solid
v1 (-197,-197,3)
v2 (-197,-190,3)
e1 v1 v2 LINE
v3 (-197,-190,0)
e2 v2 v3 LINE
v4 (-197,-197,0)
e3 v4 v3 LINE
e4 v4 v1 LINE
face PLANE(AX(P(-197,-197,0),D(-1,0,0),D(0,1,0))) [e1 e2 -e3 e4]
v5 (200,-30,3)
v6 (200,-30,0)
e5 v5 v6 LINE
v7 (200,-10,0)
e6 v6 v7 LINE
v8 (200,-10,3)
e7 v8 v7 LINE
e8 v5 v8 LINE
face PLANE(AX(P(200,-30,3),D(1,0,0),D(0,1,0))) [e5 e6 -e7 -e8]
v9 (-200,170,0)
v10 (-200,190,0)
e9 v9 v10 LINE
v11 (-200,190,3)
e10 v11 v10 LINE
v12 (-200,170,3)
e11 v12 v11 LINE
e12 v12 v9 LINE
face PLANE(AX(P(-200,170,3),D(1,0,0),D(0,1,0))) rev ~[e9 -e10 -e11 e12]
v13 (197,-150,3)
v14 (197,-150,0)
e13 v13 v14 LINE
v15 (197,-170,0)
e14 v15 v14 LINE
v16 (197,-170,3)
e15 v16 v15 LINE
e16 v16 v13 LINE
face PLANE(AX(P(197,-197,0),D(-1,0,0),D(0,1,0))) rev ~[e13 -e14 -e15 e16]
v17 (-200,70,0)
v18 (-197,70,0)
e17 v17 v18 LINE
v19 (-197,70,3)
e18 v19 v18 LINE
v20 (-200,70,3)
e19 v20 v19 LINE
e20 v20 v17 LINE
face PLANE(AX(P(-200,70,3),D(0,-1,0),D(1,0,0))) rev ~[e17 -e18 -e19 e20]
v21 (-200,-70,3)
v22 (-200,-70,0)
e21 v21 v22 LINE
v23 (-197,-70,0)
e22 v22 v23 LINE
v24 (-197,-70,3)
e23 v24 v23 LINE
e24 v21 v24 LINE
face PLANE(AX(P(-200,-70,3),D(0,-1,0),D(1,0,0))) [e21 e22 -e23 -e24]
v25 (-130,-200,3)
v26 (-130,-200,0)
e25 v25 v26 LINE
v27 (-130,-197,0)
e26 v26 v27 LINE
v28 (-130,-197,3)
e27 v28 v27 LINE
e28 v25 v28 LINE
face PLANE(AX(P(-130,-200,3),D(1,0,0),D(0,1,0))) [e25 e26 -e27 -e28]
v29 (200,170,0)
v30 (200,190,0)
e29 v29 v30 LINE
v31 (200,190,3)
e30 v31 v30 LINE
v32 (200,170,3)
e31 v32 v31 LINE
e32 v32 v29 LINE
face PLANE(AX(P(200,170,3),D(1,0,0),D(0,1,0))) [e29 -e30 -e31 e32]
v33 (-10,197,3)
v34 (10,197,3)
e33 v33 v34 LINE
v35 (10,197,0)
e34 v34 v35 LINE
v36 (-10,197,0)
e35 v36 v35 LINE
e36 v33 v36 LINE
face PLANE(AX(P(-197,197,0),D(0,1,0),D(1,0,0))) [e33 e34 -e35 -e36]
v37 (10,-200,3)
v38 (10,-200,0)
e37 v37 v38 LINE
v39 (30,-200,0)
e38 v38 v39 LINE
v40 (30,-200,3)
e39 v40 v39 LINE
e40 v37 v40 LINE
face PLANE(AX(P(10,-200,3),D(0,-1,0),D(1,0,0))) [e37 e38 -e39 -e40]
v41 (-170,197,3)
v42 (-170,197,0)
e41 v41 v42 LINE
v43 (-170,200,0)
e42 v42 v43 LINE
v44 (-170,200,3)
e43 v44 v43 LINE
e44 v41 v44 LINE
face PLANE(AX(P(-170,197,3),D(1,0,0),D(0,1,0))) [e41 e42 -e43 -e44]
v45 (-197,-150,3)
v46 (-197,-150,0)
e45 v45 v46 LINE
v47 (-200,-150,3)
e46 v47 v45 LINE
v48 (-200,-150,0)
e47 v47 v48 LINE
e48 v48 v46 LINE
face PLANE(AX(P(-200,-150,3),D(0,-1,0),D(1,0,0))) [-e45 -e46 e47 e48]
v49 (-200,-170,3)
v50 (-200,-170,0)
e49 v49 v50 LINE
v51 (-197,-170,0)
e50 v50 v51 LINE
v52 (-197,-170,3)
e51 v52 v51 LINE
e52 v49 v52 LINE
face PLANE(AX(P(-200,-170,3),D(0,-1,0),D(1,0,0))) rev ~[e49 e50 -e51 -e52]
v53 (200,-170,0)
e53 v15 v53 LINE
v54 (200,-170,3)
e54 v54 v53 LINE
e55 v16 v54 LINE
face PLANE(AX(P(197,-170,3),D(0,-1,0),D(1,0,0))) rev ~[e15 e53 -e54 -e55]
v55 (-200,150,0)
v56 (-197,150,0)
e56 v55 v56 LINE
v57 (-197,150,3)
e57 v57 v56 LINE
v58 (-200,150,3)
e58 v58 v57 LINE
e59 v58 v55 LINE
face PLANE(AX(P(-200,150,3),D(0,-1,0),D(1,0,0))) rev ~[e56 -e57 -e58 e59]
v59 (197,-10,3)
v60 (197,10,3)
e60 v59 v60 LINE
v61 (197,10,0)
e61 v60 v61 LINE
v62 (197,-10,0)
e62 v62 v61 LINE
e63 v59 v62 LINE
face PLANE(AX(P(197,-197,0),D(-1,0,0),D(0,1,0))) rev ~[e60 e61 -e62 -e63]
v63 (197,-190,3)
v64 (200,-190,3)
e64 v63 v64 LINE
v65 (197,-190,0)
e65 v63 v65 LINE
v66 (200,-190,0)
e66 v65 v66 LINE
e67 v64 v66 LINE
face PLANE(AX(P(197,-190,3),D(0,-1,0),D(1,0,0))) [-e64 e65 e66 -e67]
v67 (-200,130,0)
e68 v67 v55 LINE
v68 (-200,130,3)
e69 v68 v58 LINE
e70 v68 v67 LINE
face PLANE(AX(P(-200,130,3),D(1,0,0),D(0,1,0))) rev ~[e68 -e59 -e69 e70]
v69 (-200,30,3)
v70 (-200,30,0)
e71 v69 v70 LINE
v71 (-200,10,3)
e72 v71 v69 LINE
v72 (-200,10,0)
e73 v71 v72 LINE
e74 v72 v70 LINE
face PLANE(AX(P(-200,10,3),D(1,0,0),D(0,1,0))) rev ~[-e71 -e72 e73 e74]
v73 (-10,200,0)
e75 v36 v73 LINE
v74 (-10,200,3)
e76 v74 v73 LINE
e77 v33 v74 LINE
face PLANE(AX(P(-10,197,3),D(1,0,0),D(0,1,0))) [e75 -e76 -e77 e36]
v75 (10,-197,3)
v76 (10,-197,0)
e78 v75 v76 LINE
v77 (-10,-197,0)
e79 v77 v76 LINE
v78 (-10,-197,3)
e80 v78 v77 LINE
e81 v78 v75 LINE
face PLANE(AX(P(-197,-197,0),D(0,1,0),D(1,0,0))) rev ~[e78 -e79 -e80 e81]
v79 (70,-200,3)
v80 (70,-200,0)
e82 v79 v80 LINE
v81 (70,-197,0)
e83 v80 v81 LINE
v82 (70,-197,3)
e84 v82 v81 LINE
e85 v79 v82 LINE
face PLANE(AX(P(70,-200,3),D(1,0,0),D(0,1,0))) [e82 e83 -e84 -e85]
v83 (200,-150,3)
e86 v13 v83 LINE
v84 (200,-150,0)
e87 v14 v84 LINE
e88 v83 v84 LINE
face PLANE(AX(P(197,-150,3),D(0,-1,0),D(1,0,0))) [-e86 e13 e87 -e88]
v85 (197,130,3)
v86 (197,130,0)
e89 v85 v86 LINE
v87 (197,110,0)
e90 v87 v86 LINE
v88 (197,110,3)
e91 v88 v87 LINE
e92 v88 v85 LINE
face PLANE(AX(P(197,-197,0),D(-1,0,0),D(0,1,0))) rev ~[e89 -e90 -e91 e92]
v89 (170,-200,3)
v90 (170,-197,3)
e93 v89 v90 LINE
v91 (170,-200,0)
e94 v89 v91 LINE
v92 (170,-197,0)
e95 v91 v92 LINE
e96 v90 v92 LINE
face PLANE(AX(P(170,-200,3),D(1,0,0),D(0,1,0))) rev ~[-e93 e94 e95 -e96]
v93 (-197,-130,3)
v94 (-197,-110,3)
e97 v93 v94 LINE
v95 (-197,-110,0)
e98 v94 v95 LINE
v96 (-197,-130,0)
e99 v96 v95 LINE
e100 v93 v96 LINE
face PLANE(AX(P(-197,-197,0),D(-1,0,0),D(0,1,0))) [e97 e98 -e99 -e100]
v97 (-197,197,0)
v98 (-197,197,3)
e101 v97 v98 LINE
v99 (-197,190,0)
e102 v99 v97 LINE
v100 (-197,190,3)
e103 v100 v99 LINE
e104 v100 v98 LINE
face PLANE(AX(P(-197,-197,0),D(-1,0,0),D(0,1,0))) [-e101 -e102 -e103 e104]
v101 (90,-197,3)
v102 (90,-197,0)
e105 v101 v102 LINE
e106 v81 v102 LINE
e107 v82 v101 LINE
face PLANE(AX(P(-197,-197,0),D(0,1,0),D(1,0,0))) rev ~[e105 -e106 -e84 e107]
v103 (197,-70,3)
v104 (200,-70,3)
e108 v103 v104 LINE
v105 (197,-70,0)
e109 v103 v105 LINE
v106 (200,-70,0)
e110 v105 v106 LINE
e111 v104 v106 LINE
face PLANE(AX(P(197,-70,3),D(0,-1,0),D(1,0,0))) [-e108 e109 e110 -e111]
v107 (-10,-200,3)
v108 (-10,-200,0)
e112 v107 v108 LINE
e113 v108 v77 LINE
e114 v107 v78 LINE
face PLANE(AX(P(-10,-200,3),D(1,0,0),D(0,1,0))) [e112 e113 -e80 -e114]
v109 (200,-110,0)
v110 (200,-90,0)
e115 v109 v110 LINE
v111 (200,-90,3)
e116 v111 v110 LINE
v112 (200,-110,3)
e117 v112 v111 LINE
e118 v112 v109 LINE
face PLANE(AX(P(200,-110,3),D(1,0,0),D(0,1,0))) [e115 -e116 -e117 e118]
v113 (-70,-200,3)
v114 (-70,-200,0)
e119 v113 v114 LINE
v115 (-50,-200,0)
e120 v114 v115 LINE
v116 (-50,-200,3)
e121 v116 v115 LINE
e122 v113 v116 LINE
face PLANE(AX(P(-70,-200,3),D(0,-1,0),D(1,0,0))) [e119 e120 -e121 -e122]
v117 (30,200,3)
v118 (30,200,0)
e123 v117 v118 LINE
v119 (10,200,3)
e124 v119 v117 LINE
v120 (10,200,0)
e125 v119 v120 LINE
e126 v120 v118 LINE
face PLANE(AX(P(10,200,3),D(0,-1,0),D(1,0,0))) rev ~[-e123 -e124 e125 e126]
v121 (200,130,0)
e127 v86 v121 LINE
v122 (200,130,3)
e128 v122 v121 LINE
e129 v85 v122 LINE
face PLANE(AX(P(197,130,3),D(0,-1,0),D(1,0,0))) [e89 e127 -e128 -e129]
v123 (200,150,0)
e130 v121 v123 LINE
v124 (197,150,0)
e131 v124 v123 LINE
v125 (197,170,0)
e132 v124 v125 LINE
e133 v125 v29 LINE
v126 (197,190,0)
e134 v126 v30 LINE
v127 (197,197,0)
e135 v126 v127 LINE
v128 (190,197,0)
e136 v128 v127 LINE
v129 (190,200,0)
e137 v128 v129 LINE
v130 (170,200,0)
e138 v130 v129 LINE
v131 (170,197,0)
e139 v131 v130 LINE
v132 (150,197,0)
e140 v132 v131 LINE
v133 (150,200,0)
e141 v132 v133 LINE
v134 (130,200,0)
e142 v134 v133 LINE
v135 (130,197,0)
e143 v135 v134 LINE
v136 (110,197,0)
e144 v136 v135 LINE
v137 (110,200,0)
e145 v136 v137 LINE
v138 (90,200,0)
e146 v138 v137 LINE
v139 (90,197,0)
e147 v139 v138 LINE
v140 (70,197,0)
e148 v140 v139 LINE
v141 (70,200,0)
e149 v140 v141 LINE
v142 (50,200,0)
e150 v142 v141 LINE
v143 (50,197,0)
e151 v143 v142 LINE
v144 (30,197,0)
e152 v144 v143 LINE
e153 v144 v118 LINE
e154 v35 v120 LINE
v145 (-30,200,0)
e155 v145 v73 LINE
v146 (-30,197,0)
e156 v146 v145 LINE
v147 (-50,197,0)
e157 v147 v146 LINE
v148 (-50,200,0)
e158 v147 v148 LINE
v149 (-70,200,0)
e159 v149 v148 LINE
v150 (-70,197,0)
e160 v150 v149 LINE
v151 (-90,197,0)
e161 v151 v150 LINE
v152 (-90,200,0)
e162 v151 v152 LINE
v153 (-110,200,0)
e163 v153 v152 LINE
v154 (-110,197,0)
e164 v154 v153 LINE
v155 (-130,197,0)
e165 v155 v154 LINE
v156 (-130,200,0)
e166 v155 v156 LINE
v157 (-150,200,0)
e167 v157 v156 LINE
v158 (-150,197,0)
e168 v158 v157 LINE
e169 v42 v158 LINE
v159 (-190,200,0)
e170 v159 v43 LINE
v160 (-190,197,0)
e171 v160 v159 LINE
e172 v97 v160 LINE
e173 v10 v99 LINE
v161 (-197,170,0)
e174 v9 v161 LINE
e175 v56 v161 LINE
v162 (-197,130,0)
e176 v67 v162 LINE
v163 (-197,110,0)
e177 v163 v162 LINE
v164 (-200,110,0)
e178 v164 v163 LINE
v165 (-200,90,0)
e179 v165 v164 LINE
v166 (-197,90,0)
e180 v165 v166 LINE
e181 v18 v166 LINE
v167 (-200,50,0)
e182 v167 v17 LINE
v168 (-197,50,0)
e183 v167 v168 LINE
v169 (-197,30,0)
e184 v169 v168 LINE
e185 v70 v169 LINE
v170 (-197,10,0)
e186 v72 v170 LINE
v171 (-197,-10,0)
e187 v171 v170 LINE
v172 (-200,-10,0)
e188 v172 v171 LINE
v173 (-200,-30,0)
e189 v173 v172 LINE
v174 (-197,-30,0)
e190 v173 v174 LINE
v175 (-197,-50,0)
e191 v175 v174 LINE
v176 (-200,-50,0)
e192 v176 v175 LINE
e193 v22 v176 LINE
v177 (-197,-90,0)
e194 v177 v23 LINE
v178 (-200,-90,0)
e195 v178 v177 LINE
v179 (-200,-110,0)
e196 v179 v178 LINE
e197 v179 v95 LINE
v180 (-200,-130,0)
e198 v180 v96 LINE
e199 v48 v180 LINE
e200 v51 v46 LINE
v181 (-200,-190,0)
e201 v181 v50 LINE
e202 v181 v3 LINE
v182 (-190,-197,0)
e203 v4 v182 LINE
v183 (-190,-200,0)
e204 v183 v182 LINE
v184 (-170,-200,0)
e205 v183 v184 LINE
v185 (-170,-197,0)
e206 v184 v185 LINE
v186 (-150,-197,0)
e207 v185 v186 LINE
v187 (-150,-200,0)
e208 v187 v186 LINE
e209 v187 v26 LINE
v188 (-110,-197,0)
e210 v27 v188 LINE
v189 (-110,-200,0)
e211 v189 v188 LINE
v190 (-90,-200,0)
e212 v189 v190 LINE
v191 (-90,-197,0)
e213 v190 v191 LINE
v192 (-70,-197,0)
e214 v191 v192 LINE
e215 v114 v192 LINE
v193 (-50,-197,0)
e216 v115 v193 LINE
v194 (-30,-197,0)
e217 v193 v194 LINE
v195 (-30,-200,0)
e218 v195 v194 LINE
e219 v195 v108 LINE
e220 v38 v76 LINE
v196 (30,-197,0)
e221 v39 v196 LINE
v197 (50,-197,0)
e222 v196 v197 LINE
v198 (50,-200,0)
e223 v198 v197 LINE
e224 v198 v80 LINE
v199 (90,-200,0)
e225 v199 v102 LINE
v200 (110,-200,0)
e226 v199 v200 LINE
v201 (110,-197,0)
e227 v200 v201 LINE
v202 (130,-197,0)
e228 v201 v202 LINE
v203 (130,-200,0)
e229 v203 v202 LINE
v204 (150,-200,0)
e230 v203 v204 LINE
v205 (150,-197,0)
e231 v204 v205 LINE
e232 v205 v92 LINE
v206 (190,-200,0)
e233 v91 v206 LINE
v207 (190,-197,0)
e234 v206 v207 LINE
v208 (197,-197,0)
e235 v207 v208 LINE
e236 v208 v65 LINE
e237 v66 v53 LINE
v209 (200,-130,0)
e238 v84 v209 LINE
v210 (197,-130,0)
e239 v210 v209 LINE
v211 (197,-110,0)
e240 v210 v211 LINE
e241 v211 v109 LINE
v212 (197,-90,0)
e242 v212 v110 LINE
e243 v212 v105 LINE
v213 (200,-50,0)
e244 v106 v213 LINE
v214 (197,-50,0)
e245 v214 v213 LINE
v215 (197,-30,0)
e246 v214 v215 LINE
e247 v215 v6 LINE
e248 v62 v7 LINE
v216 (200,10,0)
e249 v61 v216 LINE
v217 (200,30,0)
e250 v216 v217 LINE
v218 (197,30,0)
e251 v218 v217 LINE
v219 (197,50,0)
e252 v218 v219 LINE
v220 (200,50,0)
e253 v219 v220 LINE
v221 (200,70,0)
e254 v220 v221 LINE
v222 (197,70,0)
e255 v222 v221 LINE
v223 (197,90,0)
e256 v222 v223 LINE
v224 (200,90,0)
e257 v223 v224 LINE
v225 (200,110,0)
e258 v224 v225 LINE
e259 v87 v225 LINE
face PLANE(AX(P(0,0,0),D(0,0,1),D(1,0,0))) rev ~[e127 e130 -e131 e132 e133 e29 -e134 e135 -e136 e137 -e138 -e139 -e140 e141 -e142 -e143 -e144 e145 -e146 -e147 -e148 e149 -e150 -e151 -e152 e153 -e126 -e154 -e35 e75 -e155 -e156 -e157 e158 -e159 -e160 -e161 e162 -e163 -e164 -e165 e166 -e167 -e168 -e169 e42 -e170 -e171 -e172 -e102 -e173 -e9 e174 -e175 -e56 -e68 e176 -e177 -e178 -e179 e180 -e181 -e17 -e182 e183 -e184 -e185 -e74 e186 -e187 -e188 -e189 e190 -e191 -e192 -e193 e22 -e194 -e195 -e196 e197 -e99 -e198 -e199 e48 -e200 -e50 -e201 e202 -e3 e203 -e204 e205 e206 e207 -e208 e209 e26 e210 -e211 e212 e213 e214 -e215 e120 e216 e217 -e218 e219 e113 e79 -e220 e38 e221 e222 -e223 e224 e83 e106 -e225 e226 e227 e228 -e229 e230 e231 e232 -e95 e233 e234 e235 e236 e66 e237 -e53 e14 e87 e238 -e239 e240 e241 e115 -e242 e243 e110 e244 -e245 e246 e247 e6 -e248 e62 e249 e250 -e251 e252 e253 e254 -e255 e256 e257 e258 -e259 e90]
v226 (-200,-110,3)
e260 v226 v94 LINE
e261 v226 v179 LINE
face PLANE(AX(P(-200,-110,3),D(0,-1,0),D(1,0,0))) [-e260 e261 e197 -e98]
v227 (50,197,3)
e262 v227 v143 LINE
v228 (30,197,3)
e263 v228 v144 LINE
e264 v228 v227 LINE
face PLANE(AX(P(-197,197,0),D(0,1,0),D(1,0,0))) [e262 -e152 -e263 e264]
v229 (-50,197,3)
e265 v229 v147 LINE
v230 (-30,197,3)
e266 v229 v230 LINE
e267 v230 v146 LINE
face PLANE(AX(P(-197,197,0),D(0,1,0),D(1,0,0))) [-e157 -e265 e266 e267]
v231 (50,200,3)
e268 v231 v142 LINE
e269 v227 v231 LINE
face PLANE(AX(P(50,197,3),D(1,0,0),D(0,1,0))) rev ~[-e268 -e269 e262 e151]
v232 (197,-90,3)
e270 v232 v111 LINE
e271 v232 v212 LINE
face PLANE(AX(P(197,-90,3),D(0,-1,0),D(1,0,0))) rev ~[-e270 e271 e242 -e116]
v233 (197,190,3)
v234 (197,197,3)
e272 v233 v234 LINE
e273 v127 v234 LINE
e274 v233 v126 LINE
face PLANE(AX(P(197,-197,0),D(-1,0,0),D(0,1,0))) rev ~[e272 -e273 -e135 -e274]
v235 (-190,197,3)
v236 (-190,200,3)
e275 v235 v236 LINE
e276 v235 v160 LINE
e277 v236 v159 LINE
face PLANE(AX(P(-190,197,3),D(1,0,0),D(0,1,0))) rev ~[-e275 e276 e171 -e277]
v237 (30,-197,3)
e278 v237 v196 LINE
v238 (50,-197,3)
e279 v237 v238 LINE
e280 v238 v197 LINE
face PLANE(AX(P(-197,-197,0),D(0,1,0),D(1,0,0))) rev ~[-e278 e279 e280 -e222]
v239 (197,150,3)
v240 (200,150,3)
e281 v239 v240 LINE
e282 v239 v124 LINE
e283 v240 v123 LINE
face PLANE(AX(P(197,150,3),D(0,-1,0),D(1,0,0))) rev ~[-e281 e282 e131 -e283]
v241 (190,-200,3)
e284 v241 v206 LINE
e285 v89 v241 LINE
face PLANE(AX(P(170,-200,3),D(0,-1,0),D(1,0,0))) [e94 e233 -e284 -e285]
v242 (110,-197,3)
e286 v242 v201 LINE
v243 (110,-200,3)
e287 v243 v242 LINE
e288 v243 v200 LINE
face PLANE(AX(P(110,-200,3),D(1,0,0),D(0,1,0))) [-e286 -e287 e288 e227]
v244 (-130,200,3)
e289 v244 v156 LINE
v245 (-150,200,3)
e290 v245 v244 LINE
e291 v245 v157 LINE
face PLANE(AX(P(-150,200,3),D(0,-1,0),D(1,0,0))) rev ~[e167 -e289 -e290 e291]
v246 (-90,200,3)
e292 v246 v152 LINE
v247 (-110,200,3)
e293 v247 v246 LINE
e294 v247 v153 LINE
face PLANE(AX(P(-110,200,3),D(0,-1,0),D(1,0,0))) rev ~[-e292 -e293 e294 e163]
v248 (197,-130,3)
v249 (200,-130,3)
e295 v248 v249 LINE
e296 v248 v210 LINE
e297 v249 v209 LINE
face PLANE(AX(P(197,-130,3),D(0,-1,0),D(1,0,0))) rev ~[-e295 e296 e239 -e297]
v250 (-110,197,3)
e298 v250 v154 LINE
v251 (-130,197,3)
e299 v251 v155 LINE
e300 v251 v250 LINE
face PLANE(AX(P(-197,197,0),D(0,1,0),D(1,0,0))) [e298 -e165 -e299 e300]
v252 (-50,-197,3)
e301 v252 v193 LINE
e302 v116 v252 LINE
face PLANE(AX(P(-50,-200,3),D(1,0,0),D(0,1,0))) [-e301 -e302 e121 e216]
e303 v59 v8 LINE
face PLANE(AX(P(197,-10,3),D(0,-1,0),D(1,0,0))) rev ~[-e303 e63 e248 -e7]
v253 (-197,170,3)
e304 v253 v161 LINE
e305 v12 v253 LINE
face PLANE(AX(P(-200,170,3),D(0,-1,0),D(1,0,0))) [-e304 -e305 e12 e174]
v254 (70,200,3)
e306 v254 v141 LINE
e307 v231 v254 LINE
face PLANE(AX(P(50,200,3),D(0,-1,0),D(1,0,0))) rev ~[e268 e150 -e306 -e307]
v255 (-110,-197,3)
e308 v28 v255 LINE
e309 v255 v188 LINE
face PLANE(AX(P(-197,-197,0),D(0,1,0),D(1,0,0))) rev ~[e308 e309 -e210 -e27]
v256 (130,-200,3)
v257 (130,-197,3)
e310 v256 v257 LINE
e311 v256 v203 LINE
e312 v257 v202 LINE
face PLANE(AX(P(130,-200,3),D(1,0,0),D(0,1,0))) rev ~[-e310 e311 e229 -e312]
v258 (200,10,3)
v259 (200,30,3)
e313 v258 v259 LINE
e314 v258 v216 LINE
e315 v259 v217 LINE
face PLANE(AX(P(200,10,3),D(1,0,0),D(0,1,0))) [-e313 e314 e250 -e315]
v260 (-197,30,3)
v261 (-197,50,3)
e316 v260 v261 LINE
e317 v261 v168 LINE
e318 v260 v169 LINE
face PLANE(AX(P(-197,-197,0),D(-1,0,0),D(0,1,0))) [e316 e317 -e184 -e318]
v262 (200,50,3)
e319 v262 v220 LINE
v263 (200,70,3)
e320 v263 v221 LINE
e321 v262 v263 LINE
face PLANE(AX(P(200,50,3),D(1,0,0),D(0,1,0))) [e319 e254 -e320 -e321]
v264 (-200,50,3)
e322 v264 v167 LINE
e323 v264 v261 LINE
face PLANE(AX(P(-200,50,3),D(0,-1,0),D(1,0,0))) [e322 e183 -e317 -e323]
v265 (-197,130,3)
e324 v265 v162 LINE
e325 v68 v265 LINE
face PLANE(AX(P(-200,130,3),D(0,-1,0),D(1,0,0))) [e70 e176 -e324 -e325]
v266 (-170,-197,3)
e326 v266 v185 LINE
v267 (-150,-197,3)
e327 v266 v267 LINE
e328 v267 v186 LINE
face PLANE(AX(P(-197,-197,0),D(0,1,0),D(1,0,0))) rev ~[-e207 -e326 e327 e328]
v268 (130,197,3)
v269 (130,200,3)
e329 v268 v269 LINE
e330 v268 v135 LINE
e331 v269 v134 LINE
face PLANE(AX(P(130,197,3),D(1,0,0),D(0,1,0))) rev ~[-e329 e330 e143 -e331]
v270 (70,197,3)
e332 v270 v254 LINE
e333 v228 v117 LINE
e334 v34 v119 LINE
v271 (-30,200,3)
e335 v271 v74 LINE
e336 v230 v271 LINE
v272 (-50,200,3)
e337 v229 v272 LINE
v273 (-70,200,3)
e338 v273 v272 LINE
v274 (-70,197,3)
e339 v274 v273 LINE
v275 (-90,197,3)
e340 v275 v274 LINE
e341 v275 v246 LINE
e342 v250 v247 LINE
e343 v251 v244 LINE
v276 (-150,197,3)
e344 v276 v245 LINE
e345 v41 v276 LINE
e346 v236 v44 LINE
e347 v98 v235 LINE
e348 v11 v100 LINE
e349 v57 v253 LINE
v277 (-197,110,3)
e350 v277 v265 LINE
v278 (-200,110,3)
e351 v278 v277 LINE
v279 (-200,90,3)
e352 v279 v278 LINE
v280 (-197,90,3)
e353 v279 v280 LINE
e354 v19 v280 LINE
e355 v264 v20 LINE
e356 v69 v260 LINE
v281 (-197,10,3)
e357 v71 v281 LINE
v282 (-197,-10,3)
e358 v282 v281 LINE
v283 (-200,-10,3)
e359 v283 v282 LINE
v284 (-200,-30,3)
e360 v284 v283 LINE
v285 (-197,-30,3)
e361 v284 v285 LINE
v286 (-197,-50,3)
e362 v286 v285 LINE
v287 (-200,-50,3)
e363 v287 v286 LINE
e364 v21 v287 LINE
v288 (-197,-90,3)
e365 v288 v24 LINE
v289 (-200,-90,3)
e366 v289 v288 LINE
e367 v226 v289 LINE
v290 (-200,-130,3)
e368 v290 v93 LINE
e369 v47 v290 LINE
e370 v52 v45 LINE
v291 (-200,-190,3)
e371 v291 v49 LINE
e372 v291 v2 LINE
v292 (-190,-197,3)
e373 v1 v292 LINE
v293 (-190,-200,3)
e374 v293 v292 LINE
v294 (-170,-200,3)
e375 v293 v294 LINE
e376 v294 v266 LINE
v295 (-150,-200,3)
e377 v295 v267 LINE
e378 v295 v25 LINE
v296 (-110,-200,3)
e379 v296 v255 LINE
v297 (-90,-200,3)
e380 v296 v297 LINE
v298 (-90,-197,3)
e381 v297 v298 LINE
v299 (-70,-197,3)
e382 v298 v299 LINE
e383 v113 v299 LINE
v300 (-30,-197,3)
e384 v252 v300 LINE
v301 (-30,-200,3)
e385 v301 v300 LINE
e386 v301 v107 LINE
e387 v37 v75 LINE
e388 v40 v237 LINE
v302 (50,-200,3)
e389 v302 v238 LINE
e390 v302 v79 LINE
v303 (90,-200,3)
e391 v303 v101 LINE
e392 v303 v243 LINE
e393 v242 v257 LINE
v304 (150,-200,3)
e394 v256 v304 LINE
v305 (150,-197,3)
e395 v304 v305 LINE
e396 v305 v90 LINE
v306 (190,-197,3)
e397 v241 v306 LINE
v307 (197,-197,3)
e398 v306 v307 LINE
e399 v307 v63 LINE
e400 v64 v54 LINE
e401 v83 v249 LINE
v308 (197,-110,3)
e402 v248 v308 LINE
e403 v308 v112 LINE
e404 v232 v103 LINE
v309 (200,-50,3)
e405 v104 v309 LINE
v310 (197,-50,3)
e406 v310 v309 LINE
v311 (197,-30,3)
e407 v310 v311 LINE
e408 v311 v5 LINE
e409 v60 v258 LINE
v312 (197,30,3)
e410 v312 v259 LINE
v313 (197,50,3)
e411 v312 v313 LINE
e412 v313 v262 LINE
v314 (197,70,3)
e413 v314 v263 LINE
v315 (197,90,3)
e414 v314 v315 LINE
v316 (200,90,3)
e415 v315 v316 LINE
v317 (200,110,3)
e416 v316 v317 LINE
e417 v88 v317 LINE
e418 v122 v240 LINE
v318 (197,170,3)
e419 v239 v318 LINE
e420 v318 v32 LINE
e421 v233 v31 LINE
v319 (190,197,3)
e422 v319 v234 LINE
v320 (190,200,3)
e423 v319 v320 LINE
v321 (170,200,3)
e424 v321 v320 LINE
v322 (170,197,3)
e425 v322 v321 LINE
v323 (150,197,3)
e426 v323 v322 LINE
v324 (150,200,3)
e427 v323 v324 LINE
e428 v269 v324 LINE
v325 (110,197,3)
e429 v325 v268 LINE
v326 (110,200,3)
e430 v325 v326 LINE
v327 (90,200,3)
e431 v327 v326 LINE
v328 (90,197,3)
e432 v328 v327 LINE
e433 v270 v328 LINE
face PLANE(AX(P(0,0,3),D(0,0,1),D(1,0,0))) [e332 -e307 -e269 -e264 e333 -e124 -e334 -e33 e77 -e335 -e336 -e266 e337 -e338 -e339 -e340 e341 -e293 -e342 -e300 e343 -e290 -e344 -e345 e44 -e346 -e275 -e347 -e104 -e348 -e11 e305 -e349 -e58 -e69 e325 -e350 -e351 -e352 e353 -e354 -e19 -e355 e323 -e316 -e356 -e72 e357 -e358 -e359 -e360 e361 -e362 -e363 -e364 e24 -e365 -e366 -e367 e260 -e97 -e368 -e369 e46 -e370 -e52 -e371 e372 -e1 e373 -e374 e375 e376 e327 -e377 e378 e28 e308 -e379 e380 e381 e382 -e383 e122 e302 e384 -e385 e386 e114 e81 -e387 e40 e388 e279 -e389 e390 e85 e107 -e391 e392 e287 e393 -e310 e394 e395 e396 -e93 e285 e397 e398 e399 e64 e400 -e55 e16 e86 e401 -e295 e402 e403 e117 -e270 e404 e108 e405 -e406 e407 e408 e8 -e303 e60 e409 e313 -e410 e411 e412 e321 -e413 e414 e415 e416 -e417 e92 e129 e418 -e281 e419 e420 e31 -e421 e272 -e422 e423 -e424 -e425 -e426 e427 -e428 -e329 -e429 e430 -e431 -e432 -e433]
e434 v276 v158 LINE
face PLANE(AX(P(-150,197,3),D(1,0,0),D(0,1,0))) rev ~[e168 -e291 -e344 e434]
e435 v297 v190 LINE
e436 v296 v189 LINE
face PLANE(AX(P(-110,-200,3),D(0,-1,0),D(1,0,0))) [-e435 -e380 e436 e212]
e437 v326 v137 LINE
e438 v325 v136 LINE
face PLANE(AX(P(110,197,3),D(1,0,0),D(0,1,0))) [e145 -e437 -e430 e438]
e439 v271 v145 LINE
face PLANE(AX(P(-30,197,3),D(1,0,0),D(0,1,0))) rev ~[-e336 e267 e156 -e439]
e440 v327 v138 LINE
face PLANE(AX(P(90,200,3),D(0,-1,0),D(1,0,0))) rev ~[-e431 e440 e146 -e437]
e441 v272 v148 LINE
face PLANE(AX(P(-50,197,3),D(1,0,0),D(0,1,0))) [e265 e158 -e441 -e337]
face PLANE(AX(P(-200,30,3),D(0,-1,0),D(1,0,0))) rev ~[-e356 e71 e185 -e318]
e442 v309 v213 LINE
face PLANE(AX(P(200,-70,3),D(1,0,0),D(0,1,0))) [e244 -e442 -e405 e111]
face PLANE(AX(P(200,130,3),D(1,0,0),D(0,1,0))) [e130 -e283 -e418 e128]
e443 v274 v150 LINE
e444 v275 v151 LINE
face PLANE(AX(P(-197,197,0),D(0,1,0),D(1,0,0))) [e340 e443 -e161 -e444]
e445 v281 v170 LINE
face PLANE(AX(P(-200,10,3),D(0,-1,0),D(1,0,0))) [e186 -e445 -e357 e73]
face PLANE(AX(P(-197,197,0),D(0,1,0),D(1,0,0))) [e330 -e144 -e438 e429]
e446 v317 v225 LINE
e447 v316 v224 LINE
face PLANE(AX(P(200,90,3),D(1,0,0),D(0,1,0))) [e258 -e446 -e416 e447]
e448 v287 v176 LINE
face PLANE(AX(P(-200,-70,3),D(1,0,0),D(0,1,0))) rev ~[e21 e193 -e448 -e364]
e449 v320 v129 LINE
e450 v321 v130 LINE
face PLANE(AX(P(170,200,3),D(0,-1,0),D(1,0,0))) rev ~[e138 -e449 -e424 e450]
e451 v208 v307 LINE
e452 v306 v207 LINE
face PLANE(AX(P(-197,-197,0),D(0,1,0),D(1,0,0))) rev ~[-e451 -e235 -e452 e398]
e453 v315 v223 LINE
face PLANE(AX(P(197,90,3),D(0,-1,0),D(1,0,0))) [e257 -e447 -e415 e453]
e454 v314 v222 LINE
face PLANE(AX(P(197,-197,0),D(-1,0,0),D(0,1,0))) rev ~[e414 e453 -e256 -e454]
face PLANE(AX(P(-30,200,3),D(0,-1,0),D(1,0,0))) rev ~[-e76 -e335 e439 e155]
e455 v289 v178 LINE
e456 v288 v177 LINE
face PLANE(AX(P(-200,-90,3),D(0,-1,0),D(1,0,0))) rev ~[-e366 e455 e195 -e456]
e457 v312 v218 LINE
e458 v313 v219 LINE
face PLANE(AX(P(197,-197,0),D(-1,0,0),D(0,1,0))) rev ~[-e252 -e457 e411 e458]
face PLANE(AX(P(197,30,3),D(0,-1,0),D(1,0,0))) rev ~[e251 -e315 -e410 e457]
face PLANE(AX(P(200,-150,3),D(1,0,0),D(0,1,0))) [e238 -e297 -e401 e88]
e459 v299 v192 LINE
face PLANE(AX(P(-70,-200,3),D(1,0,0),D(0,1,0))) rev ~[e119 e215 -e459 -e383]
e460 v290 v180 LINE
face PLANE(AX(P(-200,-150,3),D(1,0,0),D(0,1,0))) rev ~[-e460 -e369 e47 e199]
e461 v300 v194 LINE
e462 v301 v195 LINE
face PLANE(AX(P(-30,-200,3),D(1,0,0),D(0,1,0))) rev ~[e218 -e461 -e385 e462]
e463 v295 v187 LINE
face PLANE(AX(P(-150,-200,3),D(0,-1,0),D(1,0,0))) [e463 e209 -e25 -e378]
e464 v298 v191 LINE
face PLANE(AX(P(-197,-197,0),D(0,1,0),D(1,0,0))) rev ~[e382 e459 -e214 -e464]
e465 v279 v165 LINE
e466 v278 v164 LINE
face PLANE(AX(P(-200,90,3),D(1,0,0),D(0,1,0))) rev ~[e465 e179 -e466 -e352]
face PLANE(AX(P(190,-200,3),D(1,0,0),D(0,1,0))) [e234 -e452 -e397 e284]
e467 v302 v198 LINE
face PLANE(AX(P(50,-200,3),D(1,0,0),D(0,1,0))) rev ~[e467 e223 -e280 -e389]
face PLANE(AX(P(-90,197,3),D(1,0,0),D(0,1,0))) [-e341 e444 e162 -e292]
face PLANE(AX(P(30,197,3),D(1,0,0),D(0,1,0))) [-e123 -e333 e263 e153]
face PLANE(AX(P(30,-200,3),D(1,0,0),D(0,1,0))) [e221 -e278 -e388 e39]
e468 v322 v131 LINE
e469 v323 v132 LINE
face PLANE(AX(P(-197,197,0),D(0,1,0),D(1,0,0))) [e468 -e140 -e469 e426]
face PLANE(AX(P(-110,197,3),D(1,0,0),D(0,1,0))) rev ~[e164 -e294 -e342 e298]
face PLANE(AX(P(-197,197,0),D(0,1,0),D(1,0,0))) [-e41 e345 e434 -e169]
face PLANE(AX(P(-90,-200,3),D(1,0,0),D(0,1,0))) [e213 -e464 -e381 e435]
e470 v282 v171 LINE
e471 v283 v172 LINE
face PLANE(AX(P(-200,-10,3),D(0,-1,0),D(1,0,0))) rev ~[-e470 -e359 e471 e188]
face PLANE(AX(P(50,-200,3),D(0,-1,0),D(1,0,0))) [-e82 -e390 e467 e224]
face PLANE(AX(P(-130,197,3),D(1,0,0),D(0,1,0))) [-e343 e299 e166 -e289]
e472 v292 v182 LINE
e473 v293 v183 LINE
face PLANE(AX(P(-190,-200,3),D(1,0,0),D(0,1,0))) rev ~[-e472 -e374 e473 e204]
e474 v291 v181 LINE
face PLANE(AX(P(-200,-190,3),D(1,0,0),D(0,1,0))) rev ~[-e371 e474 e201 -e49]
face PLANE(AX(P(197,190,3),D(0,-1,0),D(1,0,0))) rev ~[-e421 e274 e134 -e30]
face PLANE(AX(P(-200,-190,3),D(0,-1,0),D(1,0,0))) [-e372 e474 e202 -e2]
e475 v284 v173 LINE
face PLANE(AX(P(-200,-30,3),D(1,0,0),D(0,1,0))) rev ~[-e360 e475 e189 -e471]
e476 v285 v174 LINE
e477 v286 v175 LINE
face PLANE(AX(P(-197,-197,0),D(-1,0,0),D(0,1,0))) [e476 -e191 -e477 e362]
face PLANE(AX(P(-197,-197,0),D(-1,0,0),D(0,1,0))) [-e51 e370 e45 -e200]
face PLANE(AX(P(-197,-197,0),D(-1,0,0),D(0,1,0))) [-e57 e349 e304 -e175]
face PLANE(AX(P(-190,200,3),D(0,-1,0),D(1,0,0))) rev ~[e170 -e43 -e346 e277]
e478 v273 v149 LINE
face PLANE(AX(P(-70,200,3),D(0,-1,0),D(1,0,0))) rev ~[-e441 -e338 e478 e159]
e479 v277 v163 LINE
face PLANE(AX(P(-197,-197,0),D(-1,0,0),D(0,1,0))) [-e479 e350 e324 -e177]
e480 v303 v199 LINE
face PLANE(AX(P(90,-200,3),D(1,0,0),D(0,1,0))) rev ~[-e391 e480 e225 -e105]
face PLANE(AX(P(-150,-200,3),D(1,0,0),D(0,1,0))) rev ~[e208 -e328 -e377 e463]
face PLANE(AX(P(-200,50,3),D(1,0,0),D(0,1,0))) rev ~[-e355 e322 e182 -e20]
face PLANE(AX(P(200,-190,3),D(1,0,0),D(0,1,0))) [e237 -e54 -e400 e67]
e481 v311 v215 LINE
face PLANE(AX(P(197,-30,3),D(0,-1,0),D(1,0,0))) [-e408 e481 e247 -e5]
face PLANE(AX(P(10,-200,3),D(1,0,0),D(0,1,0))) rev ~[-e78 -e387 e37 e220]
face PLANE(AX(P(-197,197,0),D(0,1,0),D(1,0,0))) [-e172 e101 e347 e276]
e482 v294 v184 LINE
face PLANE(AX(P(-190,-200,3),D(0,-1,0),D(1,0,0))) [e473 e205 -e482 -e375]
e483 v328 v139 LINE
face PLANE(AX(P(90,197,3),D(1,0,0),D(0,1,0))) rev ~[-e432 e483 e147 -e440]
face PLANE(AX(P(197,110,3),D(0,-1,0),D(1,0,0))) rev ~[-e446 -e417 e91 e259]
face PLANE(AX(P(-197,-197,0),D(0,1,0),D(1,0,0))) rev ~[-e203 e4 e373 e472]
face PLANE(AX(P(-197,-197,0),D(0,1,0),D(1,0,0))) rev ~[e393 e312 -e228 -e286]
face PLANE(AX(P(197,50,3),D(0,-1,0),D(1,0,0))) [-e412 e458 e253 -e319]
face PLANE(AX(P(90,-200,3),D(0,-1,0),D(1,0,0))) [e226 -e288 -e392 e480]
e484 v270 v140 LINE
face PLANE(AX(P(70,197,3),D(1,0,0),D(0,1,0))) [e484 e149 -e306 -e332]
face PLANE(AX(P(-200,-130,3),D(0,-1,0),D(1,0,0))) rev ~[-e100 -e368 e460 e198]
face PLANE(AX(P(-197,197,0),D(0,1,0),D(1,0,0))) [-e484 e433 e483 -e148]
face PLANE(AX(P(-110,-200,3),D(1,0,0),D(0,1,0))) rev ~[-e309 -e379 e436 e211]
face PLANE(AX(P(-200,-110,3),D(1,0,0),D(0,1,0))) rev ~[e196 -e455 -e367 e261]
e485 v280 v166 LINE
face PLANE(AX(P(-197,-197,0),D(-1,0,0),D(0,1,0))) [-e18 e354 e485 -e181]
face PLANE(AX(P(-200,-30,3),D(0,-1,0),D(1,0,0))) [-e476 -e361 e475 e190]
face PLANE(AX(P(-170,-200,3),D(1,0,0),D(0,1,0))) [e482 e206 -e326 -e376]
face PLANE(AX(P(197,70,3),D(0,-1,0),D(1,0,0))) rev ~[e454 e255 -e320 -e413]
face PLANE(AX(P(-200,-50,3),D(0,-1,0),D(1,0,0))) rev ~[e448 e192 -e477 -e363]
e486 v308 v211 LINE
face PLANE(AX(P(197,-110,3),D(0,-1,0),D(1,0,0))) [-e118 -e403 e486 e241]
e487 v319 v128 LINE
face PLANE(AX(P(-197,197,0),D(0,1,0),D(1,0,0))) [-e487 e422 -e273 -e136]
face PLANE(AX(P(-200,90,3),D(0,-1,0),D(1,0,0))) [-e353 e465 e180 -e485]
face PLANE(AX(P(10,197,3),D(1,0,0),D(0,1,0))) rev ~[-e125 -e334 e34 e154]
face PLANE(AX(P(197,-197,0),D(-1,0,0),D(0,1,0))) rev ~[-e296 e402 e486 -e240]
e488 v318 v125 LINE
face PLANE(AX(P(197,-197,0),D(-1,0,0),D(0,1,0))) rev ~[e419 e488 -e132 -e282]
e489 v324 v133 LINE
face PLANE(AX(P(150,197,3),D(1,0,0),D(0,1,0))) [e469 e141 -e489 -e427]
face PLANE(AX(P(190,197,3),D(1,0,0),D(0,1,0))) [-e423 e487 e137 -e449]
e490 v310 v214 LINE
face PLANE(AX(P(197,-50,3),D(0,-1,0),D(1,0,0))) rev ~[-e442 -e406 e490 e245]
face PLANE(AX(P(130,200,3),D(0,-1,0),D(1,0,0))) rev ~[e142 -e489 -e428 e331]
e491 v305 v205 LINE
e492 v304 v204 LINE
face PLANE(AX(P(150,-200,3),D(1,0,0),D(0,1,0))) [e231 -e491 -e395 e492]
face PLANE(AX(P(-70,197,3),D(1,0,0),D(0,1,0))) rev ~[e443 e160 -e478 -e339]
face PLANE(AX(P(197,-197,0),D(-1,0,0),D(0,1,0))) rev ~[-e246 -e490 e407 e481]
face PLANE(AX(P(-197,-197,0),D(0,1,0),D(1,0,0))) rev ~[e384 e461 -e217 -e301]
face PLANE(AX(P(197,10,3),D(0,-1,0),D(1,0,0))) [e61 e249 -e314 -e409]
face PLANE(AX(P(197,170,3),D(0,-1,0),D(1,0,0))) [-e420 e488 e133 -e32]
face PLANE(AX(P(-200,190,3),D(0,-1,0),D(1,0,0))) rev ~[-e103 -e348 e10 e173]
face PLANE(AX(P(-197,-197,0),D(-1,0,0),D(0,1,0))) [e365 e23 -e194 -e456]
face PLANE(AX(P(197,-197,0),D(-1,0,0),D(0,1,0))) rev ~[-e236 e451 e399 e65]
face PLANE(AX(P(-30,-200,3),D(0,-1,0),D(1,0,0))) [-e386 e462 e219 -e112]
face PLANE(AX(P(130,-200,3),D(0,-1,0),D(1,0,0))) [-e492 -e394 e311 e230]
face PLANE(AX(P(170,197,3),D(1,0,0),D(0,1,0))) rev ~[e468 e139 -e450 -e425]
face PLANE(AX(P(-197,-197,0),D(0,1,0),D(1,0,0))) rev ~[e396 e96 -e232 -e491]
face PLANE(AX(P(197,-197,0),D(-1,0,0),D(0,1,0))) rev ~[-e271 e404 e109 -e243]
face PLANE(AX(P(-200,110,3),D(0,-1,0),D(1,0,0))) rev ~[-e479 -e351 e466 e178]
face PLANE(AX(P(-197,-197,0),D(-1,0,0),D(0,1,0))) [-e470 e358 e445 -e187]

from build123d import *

# Parameters (mm, degrees)
F0_W     = 394
F0_H     = 394
F1_DEPTH = 3
F2_W     = 20
F2_H     = 3
F2_W_2   = 3
F2_H_2   = 20
F3_DEPTH = 3


with BuildPart() as f1:
    # F0 (on Top) → F1 (new body)
    with BuildSketch(Plane.XY):
        Rectangle(F0_W, F0_H)
    extrude(amount=F1_DEPTH)

    # F2 (on face) → F3 (join, through all)
    with BuildSketch(Plane.XY.offset(3)):
        with Locations((-180, -198.5)):
            Rectangle(F2_W, F2_H)
        with Locations((-140, -198.5)):
            Rectangle(F2_W, F2_H)
        with Locations((-100, -198.5)):
            Rectangle(F2_W, F2_H)
        with Locations((-60, -198.5)):
            Rectangle(F2_W, F2_H)
        with Locations((-20, -198.5)):
            Rectangle(F2_W, F2_H)
        with Locations((20, -198.5)):
            Rectangle(F2_W, F2_H)
        with Locations((60, -198.5)):
            Rectangle(F2_W, F2_H)
        with Locations((100, -198.5)):
            Rectangle(F2_W, F2_H)
        with Locations((140, -198.5)):
            Rectangle(F2_W, F2_H)
        with Locations((180, -198.5)):
            Rectangle(F2_W, F2_H)
        with Locations((198.5, 20)):
            Rectangle(F2_W_2, F2_H_2)
        with Locations((198.5, 180)):
            Rectangle(F2_W_2, F2_H_2)
        with Locations((198.5, -100)):
            Rectangle(F2_W_2, F2_H_2)
        with Locations((198.5, -140)):
            Rectangle(F2_W_2, F2_H_2)
        with Locations((198.5, 60)):
            Rectangle(F2_W_2, F2_H_2)
        with Locations((198.5, -20)):
            Rectangle(F2_W_2, F2_H_2)
        with Locations((198.5, 140)):
            Rectangle(F2_W_2, F2_H_2)
        with Locations((198.5, -60)):
            Rectangle(F2_W_2, F2_H_2)
        with Locations((198.5, 100)):
            Rectangle(F2_W_2, F2_H_2)
        with Locations((198.5, -180)):
            Rectangle(F2_W_2, F2_H_2)
        with Locations((-20, 198.5)):
            Rectangle(F2_W, F2_H)
        with Locations((-180, 198.5)):
            Rectangle(F2_W, F2_H)
        with Locations((100, 198.5)):
            Rectangle(F2_W, F2_H)
        with Locations((140, 198.5)):
            Rectangle(F2_W, F2_H)
        with Locations((-60, 198.5)):
            Rectangle(F2_W, F2_H)
        with Locations((20, 198.5)):
            Rectangle(F2_W, F2_H)
        with Locations((-140, 198.5)):
            Rectangle(F2_W, F2_H)
        with Locations((60, 198.5)):
            Rectangle(F2_W, F2_H)
        with Locations((-100, 198.5)):
            Rectangle(F2_W, F2_H)
        with Locations((180, 198.5)):
            Rectangle(F2_W, F2_H)
        with Locations((-198.5, -20)):
            Rectangle(F2_W_2, F2_H_2)
        with Locations((-198.5, -180)):
            Rectangle(F2_W_2, F2_H_2)
        with Locations((-198.5, 100)):
            Rectangle(F2_W_2, F2_H_2)
        with Locations((-198.5, 140)):
            Rectangle(F2_W_2, F2_H_2)
        with Locations((-198.5, -60)):
            Rectangle(F2_W_2, F2_H_2)
        with Locations((-198.5, 20)):
            Rectangle(F2_W_2, F2_H_2)
        with Locations((-198.5, -140)):
            Rectangle(F2_W_2, F2_H_2)
        with Locations((-198.5, 60)):
            Rectangle(F2_W_2, F2_H_2)
        with Locations((-198.5, -100)):
            Rectangle(F2_W_2, F2_H_2)
        with Locations((-198.5, 180)):
            Rectangle(F2_W_2, F2_H_2)
    extrude(amount=-F3_DEPTH)


solid = f1.part
